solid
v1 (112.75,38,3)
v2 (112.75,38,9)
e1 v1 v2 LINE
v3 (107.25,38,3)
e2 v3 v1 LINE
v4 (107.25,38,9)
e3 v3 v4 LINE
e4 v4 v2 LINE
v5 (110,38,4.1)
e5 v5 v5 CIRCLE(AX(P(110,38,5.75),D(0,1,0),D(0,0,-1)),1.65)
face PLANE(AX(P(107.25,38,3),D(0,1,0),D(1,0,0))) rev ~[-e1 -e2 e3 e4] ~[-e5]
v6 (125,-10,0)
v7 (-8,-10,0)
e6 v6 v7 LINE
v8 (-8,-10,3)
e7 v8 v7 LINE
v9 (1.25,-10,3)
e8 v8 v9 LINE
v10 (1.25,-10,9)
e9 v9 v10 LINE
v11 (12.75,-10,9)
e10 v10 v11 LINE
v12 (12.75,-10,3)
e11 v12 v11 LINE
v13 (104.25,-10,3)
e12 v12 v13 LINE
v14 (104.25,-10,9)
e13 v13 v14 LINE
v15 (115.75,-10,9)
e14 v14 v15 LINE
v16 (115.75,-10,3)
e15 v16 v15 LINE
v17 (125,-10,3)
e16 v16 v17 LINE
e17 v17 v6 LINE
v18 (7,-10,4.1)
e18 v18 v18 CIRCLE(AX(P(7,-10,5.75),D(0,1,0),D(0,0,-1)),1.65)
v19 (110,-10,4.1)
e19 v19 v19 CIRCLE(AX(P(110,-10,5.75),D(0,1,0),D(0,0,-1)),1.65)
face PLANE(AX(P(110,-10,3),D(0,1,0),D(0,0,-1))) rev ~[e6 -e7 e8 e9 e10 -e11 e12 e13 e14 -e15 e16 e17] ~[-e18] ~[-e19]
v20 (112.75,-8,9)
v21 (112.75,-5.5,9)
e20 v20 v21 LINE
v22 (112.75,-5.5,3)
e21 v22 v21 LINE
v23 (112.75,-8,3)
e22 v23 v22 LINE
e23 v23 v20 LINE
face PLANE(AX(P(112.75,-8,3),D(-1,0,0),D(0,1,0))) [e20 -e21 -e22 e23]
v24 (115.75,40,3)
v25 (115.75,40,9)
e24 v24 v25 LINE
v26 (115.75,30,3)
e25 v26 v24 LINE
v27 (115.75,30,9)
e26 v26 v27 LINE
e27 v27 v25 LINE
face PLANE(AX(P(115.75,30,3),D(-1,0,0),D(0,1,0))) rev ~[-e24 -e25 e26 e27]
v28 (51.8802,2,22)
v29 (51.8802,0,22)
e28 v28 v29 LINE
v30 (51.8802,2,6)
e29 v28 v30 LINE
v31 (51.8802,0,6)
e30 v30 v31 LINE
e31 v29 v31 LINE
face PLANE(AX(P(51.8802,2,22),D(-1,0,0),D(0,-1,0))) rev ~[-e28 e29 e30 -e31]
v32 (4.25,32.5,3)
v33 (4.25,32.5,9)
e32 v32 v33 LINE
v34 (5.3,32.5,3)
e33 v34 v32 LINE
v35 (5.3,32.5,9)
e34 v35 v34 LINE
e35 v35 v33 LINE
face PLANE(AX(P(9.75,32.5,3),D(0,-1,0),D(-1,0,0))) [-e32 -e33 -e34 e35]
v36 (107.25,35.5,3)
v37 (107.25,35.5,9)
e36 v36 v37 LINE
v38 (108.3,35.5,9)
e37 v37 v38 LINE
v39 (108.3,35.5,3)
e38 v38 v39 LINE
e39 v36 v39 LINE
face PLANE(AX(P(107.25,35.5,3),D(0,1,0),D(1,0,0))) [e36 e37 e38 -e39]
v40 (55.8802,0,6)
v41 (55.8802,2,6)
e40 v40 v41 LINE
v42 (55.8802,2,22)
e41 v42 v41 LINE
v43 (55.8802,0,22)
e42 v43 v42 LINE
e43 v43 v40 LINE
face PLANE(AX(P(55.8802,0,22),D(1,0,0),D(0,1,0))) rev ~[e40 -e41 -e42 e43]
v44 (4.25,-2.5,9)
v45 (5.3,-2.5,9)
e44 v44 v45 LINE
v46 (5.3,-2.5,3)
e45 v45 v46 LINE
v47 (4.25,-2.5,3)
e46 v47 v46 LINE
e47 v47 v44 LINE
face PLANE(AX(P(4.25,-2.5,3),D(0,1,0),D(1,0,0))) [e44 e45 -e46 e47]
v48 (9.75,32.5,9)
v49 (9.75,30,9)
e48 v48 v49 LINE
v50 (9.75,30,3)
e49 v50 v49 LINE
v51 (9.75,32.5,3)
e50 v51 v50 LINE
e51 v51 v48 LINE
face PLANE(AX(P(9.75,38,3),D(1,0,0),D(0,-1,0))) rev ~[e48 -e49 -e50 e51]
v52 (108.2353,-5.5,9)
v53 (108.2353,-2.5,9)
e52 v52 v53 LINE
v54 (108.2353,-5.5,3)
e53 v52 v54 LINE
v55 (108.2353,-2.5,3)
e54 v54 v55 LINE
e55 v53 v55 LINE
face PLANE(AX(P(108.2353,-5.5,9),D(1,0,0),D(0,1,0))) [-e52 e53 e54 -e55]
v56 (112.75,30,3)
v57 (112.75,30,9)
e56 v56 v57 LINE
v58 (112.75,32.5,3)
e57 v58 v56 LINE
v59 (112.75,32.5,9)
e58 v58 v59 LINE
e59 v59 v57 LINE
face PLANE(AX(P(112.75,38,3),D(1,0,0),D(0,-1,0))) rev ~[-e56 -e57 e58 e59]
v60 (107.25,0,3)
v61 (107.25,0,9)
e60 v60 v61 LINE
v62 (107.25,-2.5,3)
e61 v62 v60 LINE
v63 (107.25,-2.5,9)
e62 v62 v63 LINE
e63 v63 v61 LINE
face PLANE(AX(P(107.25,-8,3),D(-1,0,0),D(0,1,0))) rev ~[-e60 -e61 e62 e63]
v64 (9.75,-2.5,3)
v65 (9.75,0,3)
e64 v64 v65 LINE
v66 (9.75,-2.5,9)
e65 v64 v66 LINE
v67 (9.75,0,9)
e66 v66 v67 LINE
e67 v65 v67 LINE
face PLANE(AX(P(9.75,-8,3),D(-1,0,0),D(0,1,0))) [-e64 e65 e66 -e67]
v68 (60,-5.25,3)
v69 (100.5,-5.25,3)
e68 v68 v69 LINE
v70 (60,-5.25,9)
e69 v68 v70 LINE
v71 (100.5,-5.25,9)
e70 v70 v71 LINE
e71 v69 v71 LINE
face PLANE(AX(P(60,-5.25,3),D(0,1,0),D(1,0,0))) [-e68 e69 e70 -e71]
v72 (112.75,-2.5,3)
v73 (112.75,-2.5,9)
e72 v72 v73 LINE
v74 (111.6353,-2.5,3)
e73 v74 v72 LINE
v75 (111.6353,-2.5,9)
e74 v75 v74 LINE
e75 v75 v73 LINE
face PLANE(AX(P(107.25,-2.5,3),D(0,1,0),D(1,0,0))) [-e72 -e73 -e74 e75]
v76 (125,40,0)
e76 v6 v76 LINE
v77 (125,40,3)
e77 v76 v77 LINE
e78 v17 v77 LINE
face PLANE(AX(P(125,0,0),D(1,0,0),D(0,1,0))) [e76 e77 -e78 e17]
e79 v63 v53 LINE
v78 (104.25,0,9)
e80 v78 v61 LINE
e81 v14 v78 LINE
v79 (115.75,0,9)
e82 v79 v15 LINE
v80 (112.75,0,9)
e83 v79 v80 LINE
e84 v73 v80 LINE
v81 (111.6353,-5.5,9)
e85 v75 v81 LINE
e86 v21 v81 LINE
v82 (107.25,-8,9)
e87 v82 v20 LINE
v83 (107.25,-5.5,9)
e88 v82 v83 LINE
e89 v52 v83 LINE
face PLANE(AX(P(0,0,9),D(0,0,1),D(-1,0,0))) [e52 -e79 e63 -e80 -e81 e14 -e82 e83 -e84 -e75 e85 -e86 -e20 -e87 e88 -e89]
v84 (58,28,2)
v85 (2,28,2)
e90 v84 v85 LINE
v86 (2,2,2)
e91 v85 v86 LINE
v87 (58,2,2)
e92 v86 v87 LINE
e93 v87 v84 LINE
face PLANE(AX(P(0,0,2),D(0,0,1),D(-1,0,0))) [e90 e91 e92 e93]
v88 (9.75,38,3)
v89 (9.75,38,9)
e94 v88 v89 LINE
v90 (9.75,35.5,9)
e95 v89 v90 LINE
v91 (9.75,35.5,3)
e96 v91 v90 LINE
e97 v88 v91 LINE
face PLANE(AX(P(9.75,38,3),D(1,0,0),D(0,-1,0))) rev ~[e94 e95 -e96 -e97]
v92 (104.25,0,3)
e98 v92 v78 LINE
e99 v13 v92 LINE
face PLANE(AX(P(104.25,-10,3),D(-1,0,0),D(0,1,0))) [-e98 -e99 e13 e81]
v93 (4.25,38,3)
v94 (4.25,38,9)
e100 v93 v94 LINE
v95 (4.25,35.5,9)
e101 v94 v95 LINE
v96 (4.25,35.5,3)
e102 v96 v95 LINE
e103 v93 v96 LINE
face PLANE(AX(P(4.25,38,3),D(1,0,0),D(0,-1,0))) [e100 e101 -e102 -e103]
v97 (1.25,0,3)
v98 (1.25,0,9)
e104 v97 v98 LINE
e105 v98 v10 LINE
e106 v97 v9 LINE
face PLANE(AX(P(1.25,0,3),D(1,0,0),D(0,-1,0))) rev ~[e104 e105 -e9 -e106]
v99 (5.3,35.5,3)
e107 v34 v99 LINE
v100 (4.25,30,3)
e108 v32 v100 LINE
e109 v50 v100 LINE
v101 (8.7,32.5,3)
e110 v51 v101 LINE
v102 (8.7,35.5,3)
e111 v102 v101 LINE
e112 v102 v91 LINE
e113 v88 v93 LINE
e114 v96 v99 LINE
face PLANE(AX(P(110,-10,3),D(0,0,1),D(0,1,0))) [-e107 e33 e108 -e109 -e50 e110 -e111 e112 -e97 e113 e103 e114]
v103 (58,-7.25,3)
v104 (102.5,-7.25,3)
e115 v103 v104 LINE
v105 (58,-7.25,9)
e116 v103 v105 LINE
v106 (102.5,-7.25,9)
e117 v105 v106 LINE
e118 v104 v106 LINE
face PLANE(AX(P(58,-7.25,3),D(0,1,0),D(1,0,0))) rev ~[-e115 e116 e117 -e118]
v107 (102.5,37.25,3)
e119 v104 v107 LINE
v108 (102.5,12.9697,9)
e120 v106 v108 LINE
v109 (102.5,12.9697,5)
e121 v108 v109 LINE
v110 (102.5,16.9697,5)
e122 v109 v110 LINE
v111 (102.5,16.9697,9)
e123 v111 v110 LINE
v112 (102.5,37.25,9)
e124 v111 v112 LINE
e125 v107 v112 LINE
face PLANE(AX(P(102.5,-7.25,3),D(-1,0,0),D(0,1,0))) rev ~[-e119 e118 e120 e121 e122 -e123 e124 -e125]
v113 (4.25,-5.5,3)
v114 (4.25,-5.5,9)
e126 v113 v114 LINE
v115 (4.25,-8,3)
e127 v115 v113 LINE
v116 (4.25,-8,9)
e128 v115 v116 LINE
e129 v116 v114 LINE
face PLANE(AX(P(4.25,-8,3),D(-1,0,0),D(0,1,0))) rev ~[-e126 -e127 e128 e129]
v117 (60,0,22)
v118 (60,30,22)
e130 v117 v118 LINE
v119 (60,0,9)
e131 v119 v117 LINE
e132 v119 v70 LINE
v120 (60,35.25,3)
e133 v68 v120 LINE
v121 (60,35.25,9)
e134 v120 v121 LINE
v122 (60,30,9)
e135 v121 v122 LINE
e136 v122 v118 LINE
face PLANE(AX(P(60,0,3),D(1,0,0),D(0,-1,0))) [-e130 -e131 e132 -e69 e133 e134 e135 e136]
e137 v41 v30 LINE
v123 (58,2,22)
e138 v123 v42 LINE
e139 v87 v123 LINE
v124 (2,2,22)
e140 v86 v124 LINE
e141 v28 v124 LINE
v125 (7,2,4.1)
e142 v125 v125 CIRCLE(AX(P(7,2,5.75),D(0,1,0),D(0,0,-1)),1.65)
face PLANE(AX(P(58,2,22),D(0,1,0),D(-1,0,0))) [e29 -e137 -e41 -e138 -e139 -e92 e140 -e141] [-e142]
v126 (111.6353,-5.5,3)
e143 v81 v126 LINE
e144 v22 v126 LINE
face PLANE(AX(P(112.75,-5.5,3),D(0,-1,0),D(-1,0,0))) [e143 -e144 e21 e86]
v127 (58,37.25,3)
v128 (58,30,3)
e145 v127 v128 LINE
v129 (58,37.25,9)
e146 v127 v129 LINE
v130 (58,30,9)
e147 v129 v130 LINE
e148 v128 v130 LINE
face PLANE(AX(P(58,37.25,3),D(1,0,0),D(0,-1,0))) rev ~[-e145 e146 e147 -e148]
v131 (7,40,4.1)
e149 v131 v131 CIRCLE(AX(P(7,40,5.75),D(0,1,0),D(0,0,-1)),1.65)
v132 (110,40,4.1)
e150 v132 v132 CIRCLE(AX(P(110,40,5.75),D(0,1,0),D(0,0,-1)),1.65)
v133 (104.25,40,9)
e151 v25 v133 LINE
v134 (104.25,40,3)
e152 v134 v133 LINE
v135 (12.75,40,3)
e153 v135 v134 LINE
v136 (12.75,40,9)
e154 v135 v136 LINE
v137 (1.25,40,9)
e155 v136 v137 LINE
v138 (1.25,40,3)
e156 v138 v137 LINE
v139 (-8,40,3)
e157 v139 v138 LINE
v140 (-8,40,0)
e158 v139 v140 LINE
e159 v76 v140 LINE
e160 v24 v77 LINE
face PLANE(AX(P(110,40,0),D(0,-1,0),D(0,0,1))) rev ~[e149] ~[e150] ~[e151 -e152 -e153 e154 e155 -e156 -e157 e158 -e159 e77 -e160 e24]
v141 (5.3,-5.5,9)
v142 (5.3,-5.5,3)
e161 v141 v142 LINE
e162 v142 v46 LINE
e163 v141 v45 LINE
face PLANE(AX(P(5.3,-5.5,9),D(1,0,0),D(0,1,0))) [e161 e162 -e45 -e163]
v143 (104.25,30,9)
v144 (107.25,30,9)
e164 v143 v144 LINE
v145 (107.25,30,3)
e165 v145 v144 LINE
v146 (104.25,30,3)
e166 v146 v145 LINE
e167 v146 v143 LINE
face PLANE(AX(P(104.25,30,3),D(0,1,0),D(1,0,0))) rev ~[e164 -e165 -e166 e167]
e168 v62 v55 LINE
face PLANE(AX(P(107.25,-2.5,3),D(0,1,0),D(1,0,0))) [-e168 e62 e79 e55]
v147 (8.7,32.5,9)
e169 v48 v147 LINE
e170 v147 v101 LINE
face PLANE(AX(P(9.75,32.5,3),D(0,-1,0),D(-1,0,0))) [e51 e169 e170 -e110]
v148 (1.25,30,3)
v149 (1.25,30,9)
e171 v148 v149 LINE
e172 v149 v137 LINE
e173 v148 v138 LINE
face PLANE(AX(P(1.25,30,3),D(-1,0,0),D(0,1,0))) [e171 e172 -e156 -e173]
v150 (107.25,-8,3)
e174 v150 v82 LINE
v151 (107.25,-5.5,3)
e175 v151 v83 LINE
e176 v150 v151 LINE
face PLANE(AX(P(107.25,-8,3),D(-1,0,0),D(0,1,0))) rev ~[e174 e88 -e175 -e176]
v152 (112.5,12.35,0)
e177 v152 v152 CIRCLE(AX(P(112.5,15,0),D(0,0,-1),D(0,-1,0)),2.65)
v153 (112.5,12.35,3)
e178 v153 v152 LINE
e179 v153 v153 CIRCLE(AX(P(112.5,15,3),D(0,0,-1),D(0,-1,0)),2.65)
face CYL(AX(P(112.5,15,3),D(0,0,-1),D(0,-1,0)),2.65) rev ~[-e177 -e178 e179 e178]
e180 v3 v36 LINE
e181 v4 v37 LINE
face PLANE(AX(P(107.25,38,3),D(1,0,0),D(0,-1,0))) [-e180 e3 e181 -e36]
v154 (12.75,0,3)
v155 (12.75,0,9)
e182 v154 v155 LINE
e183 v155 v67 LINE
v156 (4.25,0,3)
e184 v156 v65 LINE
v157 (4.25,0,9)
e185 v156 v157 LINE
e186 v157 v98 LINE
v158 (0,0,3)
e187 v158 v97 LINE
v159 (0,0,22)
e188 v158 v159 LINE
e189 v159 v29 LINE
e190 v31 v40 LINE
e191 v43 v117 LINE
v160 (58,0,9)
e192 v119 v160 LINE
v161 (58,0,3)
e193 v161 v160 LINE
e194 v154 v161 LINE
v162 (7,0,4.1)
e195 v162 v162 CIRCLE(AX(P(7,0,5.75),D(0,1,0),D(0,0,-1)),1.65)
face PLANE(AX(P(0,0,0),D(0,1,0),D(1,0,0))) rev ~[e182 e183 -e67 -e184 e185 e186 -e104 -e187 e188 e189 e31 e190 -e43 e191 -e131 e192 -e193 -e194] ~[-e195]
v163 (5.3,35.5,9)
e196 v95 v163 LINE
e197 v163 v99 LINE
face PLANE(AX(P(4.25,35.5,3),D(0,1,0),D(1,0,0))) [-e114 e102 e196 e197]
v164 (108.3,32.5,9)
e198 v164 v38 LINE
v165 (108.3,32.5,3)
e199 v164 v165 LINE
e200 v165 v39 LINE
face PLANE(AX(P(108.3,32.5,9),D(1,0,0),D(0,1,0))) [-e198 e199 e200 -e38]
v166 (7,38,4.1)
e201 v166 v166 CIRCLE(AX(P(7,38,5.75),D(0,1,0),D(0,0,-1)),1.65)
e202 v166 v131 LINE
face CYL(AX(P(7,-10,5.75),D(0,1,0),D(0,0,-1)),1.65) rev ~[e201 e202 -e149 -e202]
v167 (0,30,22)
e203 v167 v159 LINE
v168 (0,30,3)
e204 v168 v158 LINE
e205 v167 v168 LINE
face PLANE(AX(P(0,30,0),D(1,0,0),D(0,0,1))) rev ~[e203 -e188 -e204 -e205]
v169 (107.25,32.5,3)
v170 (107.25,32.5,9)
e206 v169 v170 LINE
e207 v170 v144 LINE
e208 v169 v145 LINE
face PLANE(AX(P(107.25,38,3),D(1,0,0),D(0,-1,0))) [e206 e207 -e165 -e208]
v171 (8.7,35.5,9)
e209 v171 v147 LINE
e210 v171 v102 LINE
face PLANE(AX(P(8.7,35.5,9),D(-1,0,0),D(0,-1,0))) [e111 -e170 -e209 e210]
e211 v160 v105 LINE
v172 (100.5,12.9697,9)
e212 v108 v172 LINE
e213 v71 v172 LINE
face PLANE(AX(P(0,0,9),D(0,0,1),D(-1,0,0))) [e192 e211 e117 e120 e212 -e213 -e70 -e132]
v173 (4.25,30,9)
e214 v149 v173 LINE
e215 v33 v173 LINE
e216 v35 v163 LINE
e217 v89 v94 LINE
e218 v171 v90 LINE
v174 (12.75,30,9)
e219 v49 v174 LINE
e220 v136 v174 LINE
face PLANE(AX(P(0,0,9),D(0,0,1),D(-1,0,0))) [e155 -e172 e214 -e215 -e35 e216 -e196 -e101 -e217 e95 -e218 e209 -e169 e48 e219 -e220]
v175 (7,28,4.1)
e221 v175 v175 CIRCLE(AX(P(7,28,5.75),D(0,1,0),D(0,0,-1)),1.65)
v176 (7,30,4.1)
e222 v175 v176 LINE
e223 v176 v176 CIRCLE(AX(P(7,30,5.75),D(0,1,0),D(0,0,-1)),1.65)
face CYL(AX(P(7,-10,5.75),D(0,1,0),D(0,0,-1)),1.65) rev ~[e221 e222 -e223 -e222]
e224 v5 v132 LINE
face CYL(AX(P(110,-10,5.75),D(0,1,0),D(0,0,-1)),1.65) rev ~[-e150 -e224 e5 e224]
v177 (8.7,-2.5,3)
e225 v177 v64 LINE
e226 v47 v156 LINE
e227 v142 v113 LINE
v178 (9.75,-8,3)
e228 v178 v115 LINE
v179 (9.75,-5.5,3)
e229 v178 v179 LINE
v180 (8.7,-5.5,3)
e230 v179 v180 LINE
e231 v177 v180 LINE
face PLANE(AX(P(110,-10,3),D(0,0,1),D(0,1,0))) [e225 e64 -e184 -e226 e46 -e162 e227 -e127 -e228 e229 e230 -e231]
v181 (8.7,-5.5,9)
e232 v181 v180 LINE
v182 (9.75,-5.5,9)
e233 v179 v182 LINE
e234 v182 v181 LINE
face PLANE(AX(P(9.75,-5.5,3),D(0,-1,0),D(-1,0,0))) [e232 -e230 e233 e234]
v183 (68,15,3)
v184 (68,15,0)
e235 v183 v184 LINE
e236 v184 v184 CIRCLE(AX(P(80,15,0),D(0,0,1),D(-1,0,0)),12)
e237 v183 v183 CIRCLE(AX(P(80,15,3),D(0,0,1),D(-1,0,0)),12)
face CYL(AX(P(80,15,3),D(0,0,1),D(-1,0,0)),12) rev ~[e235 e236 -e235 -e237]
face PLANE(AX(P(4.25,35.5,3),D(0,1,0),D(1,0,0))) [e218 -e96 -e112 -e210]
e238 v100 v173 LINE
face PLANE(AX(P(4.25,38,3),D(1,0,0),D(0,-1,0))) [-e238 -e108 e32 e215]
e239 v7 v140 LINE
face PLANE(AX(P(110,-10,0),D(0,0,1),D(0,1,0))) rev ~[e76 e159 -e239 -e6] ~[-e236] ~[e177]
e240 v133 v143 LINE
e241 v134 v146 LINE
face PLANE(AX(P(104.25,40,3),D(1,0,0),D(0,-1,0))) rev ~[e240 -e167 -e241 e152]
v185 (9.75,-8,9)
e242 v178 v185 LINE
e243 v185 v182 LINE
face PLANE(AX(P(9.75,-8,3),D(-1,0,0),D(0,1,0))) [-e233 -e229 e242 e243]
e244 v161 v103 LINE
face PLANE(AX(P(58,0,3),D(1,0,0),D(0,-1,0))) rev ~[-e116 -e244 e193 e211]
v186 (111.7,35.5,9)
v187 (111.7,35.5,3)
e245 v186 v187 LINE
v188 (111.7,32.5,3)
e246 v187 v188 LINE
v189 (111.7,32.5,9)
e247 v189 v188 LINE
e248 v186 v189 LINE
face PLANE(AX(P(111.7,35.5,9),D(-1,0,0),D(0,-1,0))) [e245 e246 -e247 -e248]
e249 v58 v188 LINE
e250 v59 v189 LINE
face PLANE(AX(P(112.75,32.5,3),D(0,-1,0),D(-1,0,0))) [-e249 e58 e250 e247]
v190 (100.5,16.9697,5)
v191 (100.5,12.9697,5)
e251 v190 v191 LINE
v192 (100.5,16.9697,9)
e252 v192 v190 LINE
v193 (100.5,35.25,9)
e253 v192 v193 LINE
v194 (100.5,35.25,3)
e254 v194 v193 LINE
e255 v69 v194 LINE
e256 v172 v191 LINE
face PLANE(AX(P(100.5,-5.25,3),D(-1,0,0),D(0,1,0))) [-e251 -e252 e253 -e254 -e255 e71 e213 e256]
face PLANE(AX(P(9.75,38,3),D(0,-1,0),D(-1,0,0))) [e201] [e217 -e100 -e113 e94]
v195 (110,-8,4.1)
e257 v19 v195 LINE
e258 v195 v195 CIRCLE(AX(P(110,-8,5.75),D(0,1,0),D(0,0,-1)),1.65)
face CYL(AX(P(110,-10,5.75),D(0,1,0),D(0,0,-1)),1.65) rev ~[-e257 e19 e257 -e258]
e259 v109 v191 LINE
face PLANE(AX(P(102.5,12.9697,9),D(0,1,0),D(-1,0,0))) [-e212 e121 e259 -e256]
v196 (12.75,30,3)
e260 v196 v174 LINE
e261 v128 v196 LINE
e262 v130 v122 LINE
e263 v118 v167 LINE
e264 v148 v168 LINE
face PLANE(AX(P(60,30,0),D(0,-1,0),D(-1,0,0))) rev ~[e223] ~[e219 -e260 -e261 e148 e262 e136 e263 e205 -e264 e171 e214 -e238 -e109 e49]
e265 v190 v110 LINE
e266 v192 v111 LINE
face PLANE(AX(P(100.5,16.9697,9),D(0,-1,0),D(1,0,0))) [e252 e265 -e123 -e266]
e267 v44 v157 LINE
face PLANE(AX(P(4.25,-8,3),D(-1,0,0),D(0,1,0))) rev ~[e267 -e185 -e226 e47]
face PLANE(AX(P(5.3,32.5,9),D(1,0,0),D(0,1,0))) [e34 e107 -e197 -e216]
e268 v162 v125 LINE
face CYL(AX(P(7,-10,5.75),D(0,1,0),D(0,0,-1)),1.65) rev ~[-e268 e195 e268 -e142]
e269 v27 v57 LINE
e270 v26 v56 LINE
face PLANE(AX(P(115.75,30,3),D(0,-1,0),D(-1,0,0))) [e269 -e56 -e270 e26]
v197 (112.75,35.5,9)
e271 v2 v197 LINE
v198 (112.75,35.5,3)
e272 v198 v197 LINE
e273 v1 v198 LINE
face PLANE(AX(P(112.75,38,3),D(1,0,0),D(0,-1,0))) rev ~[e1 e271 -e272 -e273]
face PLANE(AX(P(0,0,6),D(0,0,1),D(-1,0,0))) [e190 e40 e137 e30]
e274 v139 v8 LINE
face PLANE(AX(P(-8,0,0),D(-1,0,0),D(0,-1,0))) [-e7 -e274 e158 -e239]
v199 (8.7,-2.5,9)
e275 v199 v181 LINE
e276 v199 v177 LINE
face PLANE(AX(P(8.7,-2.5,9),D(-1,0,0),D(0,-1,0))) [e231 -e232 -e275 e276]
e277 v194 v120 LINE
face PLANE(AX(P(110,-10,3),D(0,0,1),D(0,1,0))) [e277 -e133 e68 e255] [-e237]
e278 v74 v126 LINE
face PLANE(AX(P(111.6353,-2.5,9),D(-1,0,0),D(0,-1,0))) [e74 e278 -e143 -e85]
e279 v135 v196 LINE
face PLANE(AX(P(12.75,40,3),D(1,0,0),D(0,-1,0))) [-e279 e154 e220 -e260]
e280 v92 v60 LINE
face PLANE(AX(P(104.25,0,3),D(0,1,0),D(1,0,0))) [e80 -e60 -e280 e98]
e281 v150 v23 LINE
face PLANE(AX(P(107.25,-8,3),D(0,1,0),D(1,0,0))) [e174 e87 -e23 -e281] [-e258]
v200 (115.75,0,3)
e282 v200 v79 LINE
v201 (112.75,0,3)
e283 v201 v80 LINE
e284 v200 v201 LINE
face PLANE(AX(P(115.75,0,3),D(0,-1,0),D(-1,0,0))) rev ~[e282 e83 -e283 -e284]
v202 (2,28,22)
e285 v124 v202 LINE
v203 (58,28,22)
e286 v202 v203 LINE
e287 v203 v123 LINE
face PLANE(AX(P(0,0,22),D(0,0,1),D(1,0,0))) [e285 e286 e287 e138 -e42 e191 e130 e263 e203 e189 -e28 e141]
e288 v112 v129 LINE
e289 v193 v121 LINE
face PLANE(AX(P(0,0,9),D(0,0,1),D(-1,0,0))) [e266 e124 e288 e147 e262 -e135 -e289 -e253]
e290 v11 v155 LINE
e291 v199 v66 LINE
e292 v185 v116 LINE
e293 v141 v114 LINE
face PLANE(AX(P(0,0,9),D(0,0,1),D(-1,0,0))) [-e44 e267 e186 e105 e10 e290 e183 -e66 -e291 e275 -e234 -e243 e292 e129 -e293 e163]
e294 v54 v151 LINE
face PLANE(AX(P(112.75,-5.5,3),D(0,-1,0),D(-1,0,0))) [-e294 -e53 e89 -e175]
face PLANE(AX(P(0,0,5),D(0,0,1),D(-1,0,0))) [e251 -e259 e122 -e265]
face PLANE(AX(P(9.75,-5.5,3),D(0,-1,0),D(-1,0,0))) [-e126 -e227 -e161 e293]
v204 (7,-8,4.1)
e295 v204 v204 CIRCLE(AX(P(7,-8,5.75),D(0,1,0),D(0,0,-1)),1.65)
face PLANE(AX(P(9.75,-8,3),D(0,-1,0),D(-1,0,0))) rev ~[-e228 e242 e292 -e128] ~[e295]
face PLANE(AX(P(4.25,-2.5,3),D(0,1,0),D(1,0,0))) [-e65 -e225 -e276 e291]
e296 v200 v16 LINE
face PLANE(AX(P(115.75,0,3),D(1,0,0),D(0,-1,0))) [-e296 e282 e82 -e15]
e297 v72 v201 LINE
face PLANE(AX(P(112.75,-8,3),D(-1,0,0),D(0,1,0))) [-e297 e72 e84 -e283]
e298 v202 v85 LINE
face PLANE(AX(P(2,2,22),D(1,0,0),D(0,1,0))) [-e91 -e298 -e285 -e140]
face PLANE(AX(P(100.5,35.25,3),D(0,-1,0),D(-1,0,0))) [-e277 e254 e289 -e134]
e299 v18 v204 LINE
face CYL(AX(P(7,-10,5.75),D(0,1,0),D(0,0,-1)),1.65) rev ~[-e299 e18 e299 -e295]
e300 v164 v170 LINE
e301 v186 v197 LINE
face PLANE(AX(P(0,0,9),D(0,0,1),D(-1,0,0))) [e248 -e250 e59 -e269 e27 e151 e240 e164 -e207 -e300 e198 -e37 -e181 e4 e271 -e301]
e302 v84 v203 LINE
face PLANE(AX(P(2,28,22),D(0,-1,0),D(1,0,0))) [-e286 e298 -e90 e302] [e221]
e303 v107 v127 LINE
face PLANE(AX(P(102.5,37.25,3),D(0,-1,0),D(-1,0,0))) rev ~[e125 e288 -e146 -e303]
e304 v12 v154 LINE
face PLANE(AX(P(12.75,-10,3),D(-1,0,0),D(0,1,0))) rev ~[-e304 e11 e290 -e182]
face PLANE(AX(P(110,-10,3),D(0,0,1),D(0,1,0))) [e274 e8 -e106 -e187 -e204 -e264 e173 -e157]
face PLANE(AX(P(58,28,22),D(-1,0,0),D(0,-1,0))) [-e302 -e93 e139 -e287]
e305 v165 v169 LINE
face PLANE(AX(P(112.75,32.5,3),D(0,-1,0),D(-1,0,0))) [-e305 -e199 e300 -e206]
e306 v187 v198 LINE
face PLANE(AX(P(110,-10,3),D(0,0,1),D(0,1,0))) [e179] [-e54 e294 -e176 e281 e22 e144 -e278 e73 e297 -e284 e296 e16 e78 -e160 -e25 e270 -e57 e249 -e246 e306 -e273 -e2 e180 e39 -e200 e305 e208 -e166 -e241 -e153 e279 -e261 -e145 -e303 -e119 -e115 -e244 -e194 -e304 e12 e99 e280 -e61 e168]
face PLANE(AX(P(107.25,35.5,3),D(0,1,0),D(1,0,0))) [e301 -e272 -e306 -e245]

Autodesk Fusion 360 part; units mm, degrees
sketch "Sketch1" plane through (0, 0, 0) normal (0, 0, 1) x (1, 0, 0)
  line L0 (0, 0) -> (60, 0)
  line L1 (60, 0) -> (60, 30)
  line L2 (60, 30) -> (0, 30)
  line L3 (0, 30) -> (0, 0)
  dimension "d1" = 60
  dimension "d2" = 30
extrude "Extrude1" add sketch "Sketch1" along normal blind 22
sketch "Sketch2" plane through (0, 0, 22) normal (0, 0, 1) x (-1, 0, 0)
  line L0 (0, -30) -> (0, 0)
  line L1 (0, 0) -> (-60, 0)
  line L2 (-60, 0) -> (-60, -30)
  line L3 (-60, -30) -> (0, -30)
  line L4 (-2, -28) -> (-58, -28)
  line L5 (-58, -28) -> (-58, -2)
  line L6 (-58, -2) -> (-2, -2)
  line L7 (-2, -2) -> (-2, -28)
  dimension "d5" = 56
  dimension "d6" = 26
  dimension "d7" = 2
  dimension "d8" = 2
extrude "Extrude2" cut sketch "Sketch2" against normal blind 20 contours L4 L5 L6 L7
sketch "Sketch3" plane through (0, 0, 0) normal (0, -1, 0) x (1, 0, 0)
  line L0 (0, 0) -> (60, 0)
  line L1 (60, 0) -> (60, 22)
  line L2 (60, 22) -> (0, 22)
  line L3 (0, 22) -> (0, 0)
  line L4 (0, 0) -> (60, 0)
  line L5 (60, 0) -> (60, 3)
  line L6 (60, 3) -> (0, 3)
  line L7 (0, 3) -> (0, 0)
  dimension "d11" = 60
  dimension "d12" = 3
extrude "Extrude3" add sketch "Sketch3" along normal blind 8 contours L0 L1 L3 L4 L5 L6 L7
sketch "Sketch4" plane through (0, 30, 0) normal (0, 1, 0) x (-1, 0, 0)
  line L0 (-60, 0) -> (0, 0)
  line L1 (0, 0) -> (0, 22)
  line L2 (0, 22) -> (-60, 22)
  line L3 (-60, 22) -> (-60, 0)
  line L4 (-60, 0) -> (0, 0)
  line L5 (0, 0) -> (0, 3)
  line L6 (0, 3) -> (-60, 3)
  line L7 (-60, 3) -> (-60, 0)
  dimension "d15" = 3
extrude "Extrude4" add sketch "Sketch4" along normal blind 8 contours L0 L1 L3 L4 L5 L6 L7
sketch "Sketch5" plane through (60, 0, 0) normal (1, 0, 0) x (0, 1, 0)
  line L0 (-8, 0) -> (38, 0)
  line L1 (38, 0) -> (38, 3)
  line L2 (38, 3) -> (30, 3)
  line L3 (30, 3) -> (30, 22)
  line L4 (30, 22) -> (0, 22)
  line L5 (0, 22) -> (0, 3)
  line L6 (0, 3) -> (-8, 3)
  line L7 (-8, 3) -> (-8, 0)
  line L8 (-8, 3) -> (38, 3)
  line L9 (38, 3) -> (38, 0)
  line L10 (38, 0) -> (-8, 0)
  line L11 (-8, 0) -> (-8, 3)
extrude "Extrude5" add sketch "Sketch5" along normal blind 50 contours L0 L1 L2 L6 L7 L8 L9 L10 L11
sketch "Sketch6" plane through (0, 0, 0) normal (-1, 0, 0) x (0, -1, 0)
  line L0 (-38, 0) -> (8, 0)
  line L1 (8, 0) -> (8, 3)
  line L2 (8, 3) -> (0, 3)
  line L3 (0, 3) -> (0, 22)
  line L4 (0, 22) -> (-30, 22)
  line L5 (-30, 22) -> (-30, 3)
  line L6 (-30, 3) -> (-38, 3)
  line L7 (-38, 3) -> (-38, 0)
  line L8 (-38, 3) -> (8, 3)
  line L9 (8, 3) -> (8, 0)
  line L10 (8, 0) -> (-38, 0)
  line L11 (-38, 0) -> (-38, 3)
extrude "Extrude6" add sketch "Sketch6" along normal blind 8 contours L0 L1 L2 L6 L7 L8 L9 L10 L11
sketch "Sketch7" plane through (0, 0, 3) normal (0, 0, 1) x (-1, 0, 0)
  line L0 (8, 8) -> (-110, 8)
  line L1 (-110, 8) -> (-110, -38)
  line L2 (-110, -38) -> (8, -38)
  line L3 (8, -38) -> (8, 8)
  line L4 (0, 0) -> (0, -30)
  line L5 (0, -30) -> (-60, -30)
  line L6 (-60, -30) -> (-60, 0)
  line L7 (-60, 0) -> (0, 0)
  line L8 (-60.1, -35.15) -> (-100.4, -35.15) construction
  line L9 (-100.4, -35.15) -> (-100.4, 5.15) construction
  line L10 (-100.4, 5.15) -> (-60.1, 5.15) construction
  line L11 (-60.1, 5.15) -> (-60.1, -35.15) construction
  line L12 (-60, -15) -> (-127.1, -15) construction
  line L13 (-100.5, -35.25) -> (-60, -35.25)
  line L14 (-60, -35.25) -> (-60, 5.25)
  line L15 (-60, 5.25) -> (-100.5, 5.25)
  line L16 (-100.5, 5.25) -> (-100.5, -35.25)
  line L17 (-58, -37.25) -> (-58, 7.25)
  line L18 (-58, 7.25) -> (-102.5, 7.25)
  line L19 (-102.5, 7.25) -> (-102.5, -37.25)
  line L20 (-102.5, -37.25) -> (-58, -37.25)
  dimension "d22" = 40.3
  dimension "d23" = 40.3
  dimension "d24" = 20.15
  dimension "d25" = 0.1
  dimension "d31" = 40.5
  dimension "d32" = 40.5
  dimension "d33" = 68
  dimension "d34" = 20.25
  dimension "d35" = 2
move_face "OffsetFaces1" offset 2 1 faces at (70.6667, 38, 2)
extrude "Extrude7" add 1 faces at (31.3333, -8, 2) along direction (0, -1, 0) blind 2
extrude "Extrude8" add 1 faces at (110, 23.3333, 1) along direction (1, 0, 0) blind 15
extrude "Extrude9" add sketch "Sketch7" along normal blind 6 contours L5 L7 L13 L14 L15 L16 L17 L18 L19 L20
sketch "Sketch9" plane through (0, 0, 3) normal (0, 0, 1) x (-1, 0, 0)
  line L0 (-60, -35.25) -> (-60, 5.25)
  line L1 (-60, 5.25) -> (-100.5, 5.25)
  line L2 (-100.5, 5.25) -> (-100.5, -35.25)
  line L3 (-100.5, -35.25) -> (-60, -35.25)
  circle A0 centre (-80, -15) radius 12
  dimension "d38" = 24
extrude "Extrude10" cut sketch "Sketch9" against normal blind 12 contours A0
sketch "Sketch10" plane through (0, 0, 9) normal (0, 0, 1) x (-1, 0, 0)
  line L0 (-60, 0) -> (-58, 0)
  line L1 (-58, 0) -> (-58, 7.25)
  line L2 (-58, 7.25) -> (-102.5, 7.25)
  line L3 (-102.5, 7.25) -> (-102.5, -37.25)
  line L4 (-102.5, -37.25) -> (-58, -37.25)
  line L5 (-58, -37.25) -> (-58, -30)
  line L6 (-58, -30) -> (-60, -30)
  line L7 (-60, -30) -> (-60, -35.25)
  line L8 (-60, -35.25) -> (-100.5, -35.25)
  line L9 (-100.5, -35.25) -> (-100.5, 5.25)
  line L10 (-100.5, 5.25) -> (-60, 5.25)
  line L11 (-60, 5.25) -> (-60, 0)
  line L12 (-100.5, -16.9697) -> (-102.5, -16.9697)
  line L13 (-102.5, -16.9697) -> (-102.5, -12.9697)
  line L14 (-102.5, -12.9697) -> (-100.5, -12.9697)
  line L15 (-100.5, -12.9697) -> (-100.5, -16.9697)
  line L16 (-110, -14.9697) -> (-85, -14.9697) construction
  dimension "d41" = 2
  dimension "d42" = 4
  dimension "d43" = 2
extrude "Extrude11" cut sketch "Sketch10" against normal blind 4 contours L3 L9 L12 L13 L14 L15
sketch "Sketch11" plane through (0, 0, 22) normal (0, 0, 1) x (-1, 0, 0)
  line L0 (-58, -28) -> (-58, -2)
  line L1 (-58, -2) -> (-2, -2)
  line L2 (-2, -2) -> (-2, -28)
  line L3 (-2, -28) -> (-58, -28)
  line L4 (0, -30) -> (0, 0)
  line L5 (0, 0) -> (-60, 0)
  line L6 (-60, 0) -> (-60, -30)
  line L7 (-60, -30) -> (0, -30)
  line L8 (-55.8802, -2) -> (-51.8802, -2)
  line L9 (-51.8802, -2) -> (-51.8802, 0)
  line L10 (-51.8802, 0) -> (-55.8802, 0)
  line L11 (-55.8802, 0) -> (-55.8802, -2)
  dimension "d46" = 4
extrude "Extrude12" cut sketch "Sketch11" against normal blind 16 contours L1 L5 L8 L9 L10 L11
sketch "Sketch12" plane through (0, 0, 3) normal (0, 0, 1) x (-1, 0, 0)
  line L0 (-58, -30) -> (-58, -37.25)
  line L1 (-58, -37.25) -> (-102.5, -37.25)
  line L2 (-102.5, -37.25) -> (-102.5, 7.25)
  line L3 (-102.5, 7.25) -> (-58, 7.25)
  line L4 (-58, 7.25) -> (-58, 0)
  line L5 (-58, 0) -> (0, 0)
  line L6 (0, 0) -> (0, -30)
  line L7 (0, -30) -> (-58, -30)
  line L8 (-125, -40) -> (8, -40)
  line L9 (8, -40) -> (8, 10)
  line L10 (8, 10) -> (-125, 10)
  line L11 (-125, 10) -> (-125, -40)
  line L12 (-7, -44) -> (-7, 24) construction
  line L13 (-110, -45) -> (-110, 22) construction
  line L14 (-1.25, -30) -> (-1.25, -40)
  line L15 (-1.25, -40) -> (-12.75, -40)
  line L16 (-12.75, -40) -> (-12.75, -30)
  line L17 (-12.75, -30) -> (-9.75, -30)
  line L18 (-9.75, -38) -> (-4.25, -38)
  line L19 (-4.25, -38) -> (-4.25, -30)
  line L20 (-1.25, -30) -> (-4.25, -30)
  line L21 (-9.75, -38) -> (-9.75, -30)
  line L22 (-28.0187, -15) -> (31, -15) construction
  line L23 (-12.75, 0) -> (-9.75, 0)
  line L24 (-12.75, 10) -> (-12.75, 0)
  line L25 (-9.75, 8) -> (-9.75, 0)
  line L26 (-9.75, 8) -> (-4.25, 8)
  line L27 (-4.25, 8) -> (-4.25, 0)
  line L28 (-1.25, 0) -> (-4.25, 0)
  line L29 (-1.25, 0) -> (-1.25, 10)
  line L30 (-1.25, 10) -> (-12.75, 10)
  line L31 (-58.5, 15) -> (-58.5, -52) construction
  line L32 (-104.25, 10) -> (-104.25, 0)
  line L33 (-115.75, 10) -> (-104.25, 10)
  line L34 (-107.25, 8) -> (-112.75, 8)
  line L35 (-107.25, 8) -> (-107.25, 0)
  line L36 (-112.75, 8) -> (-112.75, 0)
  line L37 (-115.75, 0) -> (-115.75, 10)
  line L38 (-115.75, 0) -> (-112.75, 0)
  line L39 (-104.25, 0) -> (-107.25, 0)
  line L40 (-104.25, -30) -> (-107.25, -30)
  line L41 (-107.25, -38) -> (-107.25, -30)
  line L42 (-112.75, -38) -> (-112.75, -30)
  line L43 (-115.75, -30) -> (-112.75, -30)
  line L44 (-115.75, -30) -> (-115.75, -40)
  line L45 (-107.25, -38) -> (-112.75, -38)
  line L46 (-115.75, -40) -> (-104.25, -40)
  line L47 (-104.25, -40) -> (-104.25, -30)
  dimension "d49" = 15
  dimension "d50" = 15
  dimension "d51" = 2.75
  dimension "d52" = 2.75
  dimension "d53" = 3
  dimension "d54" = 3
  dimension "d55" = 2
  dimension "d56" = 66.5
extrude "Extrude13" add sketch "Sketch12" along normal blind 6 contours L7 L8 L14 L15 L16 L17 L18 L19 L20 L21 | L8 L40 L41 L42 L43 L44 L45 L46 L47 | L5 L10 L23 L24 L25 L26 L27 L28 L29 L30 | L10 L32 L33 L34 L35 L36 L37 L38 L39
sketch "Sketch13" plane through (0, -10, 0) normal (0, -1, 0) x (1, 0, 0)
  line L0 (-8, 0) -> (125, 0)
  line L1 (125, 0) -> (125, 3)
  line L2 (125, 3) -> (115.75, 3)
  line L3 (115.75, 3) -> (115.75, 9)
  line L4 (115.75, 9) -> (104.25, 9)
  line L5 (104.25, 9) -> (104.25, 3)
  line L6 (104.25, 3) -> (12.75, 3)
  line L7 (12.75, 3) -> (12.75, 9)
  line L8 (12.75, 9) -> (1.25, 9)
  line L9 (1.25, 9) -> (1.25, 3)
  line L10 (1.25, 3) -> (-8, 3)
  line L11 (-8, 3) -> (-8, 0)
  line L12 (104.25, 3) -> (115.75, 3) construction
  line L13 (103, 8.5) -> (117.6026, 8.5) construction
  line L14 (104.25, 8.5) -> (115.75, 3) construction
  line L15 (115.75, 8.5) -> (104.25, 3) construction
  line L16 (1.25, 3) -> (12.75, 3) construction
  line L17 (-3, 8.5) -> (20, 8.5) construction
  line L18 (1.25, 8.5) -> (12.75, 3) construction
  line L19 (12.75, 8.5) -> (1.25, 3) construction
  point P0 (110, 5.75)
  point P1 (7, 5.75)
  dimension "d59" = 5.5
  dimension "d60" = 5.5
hole "Hole1" at (7, -10, 5.75) at (110, -10, 5.75) direction (0, 1, 0) diameter 3.3 depth 100 tip angle 118
sketch "Sketch14" plane through (0, 0, 3) normal (0, 0, 1) x (-1, 0, 0)
  line L0 (-9.75, -30) -> (-9.75, -38)
  line L1 (-9.75, -38) -> (-4.25, -38)
  line L2 (-4.25, -38) -> (-4.25, -30)
  line L3 (-4.25, -30) -> (-9.75, -30)
  line L4 (-4.25, -35.5) -> (-9.75, -35.5)
  line L5 (-9.75, -35.5) -> (-9.75, -32.5)
  line L6 (-9.75, -32.5) -> (-4.25, -32.5)
  line L7 (-4.25, -32.5) -> (-4.25, -35.5)
  dimension "d64" = 3
  dimension "d65" = 2.5
extrude "Extrude14" add sketch "Sketch14" along normal blind 6 contours L0 L2 L4 L5 L6 L7
sketch "Sketch15" plane through (0, 0, 9) normal (0, 0, 1) x (-1, 0, 0)
  line L0 (-4.25, -35.5) -> (-4.25, -38)
  line L1 (-4.25, -38) -> (-9.75, -38)
  line L2 (-9.75, -38) -> (-9.75, -35.5)
  line L3 (-9.75, -35.5) -> (-4.25, -35.5)
  line L4 (-4.25, -32.5) -> (-9.75, -32.5)
  line L5 (-9.75, -32.5) -> (-9.75, -30)
  line L6 (-9.75, -30) -> (-12.75, -30)
  line L7 (-12.75, -30) -> (-12.75, -40)
  line L8 (-12.75, -40) -> (-1.25, -40)
  line L9 (-1.25, -40) -> (-1.25, -30)
  line L10 (-1.25, -30) -> (-4.25, -30)
  line L11 (-4.25, -30) -> (-4.25, -32.5)
  line L12 (-7, -25.2955) -> (-7, -46) construction
  line L13 (-5.3, -35.5) -> (-8.7, -35.5)
  line L14 (-8.7, -35.5) -> (-8.7, -32.5)
  line L15 (-8.7, -32.5) -> (-5.3, -32.5)
  line L16 (-5.3, -32.5) -> (-5.3, -35.5)
  dimension "d68" = 3.4
  dimension "d69" = 1.7
  dimension "d70" = 5.75
extrude "Extrude15" cut sketch "Sketch15" against normal blind 6 contours L3 L4 L13 L14 L15 L16
sketch "Sketch16" plane through (0, 0, 3) normal (0, 0, 1) x (-1, 0, 0)
  line L0 (-9.75, 8) -> (-9.75, 0)
  line L1 (-9.75, 0) -> (-4.25, 0)
  line L2 (-4.25, 0) -> (-4.25, 8)
  line L3 (-4.25, 8) -> (-9.75, 8)
  line L4 (-7, 2) -> (-7, 16) construction
  line L5 (-1.25, 0) -> (-1.25, 10) construction
  line L6 (-4.25, 2.5) -> (-9.75, 2.5)
  line L7 (-9.75, 2.5) -> (-9.75, 5.5)
  line L8 (-9.75, 5.5) -> (-4.25, 5.5)
  line L9 (-4.25, 5.5) -> (-4.25, 2.5)
  dimension "d73" = 5.75
  dimension "d74" = 3
  dimension "d75" = 2.5
extrude "Extrude16" add sketch "Sketch16" along normal blind 6 contours L0 L2 L6 L7 L8 L9
sketch "Sketch17" plane through (0, 0, 9) normal (0, 0, 1) x (-1, 0, 0)
  line L0 (-4.25, 2.5) -> (-4.25, 0)
  line L1 (-4.25, 0) -> (-1.25, 0)
  line L2 (-1.25, 0) -> (-1.25, 10)
  line L3 (-1.25, 10) -> (-12.75, 10)
  line L4 (-12.75, 10) -> (-12.75, 0)
  line L5 (-12.75, 0) -> (-9.75, 0)
  line L6 (-9.75, 0) -> (-9.75, 2.5)
  line L7 (-9.75, 2.5) -> (-4.25, 2.5)
  line L8 (-4.25, 5.5) -> (-9.75, 5.5)
  line L9 (-9.75, 5.5) -> (-9.75, 8)
  line L10 (-9.75, 8) -> (-4.25, 8)
  line L11 (-4.25, 8) -> (-4.25, 5.5)
  line L12 (-7, 1) -> (-7, 15) construction
  line L13 (-5.3, 2.5) -> (-8.7, 2.5)
  line L14 (-8.7, 2.5) -> (-8.7, 5.5)
  line L15 (-8.7, 5.5) -> (-5.3, 5.5)
  line L16 (-5.3, 5.5) -> (-5.3, 2.5)
  dimension "d78" = 5.75
  dimension "d79" = 3.4
  dimension "d80" = 1.7
extrude "Extrude17" cut sketch "Sketch17" against normal blind 6 contours L7 L8 L13 L14 L15 L16
sketch "Sketch18" plane through (0, 0, 3) normal (0, 0, 1) x (-1, 0, 0)
  line L0 (-12.75, -40) -> (-12.75, -30)
  line L1 (-12.75, -30) -> (-58, -30)
  line L2 (-58, -30) -> (-58, -37.25)
  line L3 (-58, -37.25) -> (-102.5, -37.25)
  line L4 (-102.5, -37.25) -> (-102.5, 7.25)
  line L5 (-102.5, 7.25) -> (-58, 7.25)
  line L6 (-58, 7.25) -> (-58, 0)
  line L7 (-58, 0) -> (-12.75, 0)
  line L8 (-12.75, 0) -> (-12.75, 10)
  line L9 (-12.75, 10) -> (-104.25, 10)
  line L10 (-104.25, 10) -> (-104.25, 0)
  line L11 (-104.25, 0) -> (-107.25, 0)
  line L12 (-107.25, 0) -> (-107.25, 8)
  line L13 (-107.25, 8) -> (-112.75, 8)
  line L14 (-112.75, 8) -> (-112.75, 0)
  line L15 (-112.75, 0) -> (-115.75, 0)
  line L16 (-115.75, 0) -> (-115.75, 10)
  line L17 (-115.75, 10) -> (-125, 10)
  line L18 (-125, 10) -> (-125, -40)
  line L19 (-125, -40) -> (-115.75, -40)
  line L20 (-115.75, -40) -> (-115.75, -30)
  line L21 (-115.75, -30) -> (-112.75, -30)
  line L22 (-112.75, -30) -> (-112.75, -38)
  line L23 (-112.75, -38) -> (-107.25, -38)
  line L24 (-107.25, -38) -> (-107.25, -30)
  line L25 (-107.25, -30) -> (-104.25, -30)
  line L26 (-104.25, -30) -> (-104.25, -40)
  line L27 (-104.25, -40) -> (-12.75, -40)
  line L28 (-107.25, -35.5) -> (-112.75, -35.5)
  line L29 (-112.75, -35.5) -> (-112.75, -32.5)
  line L30 (-112.75, -32.5) -> (-107.25, -32.5)
  line L31 (-107.25, -32.5) -> (-107.25, -35.5)
  line L32 (-107.25, 2.5) -> (-112.75, 2.5)
  line L33 (-112.75, 2.5) -> (-112.75, 5.5)
  line L34 (-112.75, 5.5) -> (-107.25, 5.5)
  line L35 (-107.25, 5.5) -> (-107.25, 2.5)
  dimension "d83" = 3
  dimension "d84" = 3
  dimension "d85" = 2.5
  dimension "d86" = 2.5
extrude "Extrude18" add sketch "Sketch18" along normal blind 6 contours L22 L24 L28 L29 L30 L31 | L12 L14 L32 L33 L34 L35
sketch "Sketch19" plane through (0, 0, 9) normal (0, 0, 1) x (-1, 0, 0)
  line L0 (-112.75, -32.5) -> (-112.75, -30)
  line L1 (-112.75, -30) -> (-115.75, -30)
  line L2 (-115.75, -30) -> (-115.75, -40)
  line L3 (-115.75, -40) -> (-104.25, -40)
  line L4 (-104.25, -40) -> (-104.25, -30)
  line L5 (-104.25, -30) -> (-107.25, -30)
  line L6 (-107.25, -30) -> (-107.25, -32.5)
  line L7 (-107.25, -32.5) -> (-112.75, -32.5)
  line L8 (-112.75, -35.5) -> (-107.25, -35.5)
  line L9 (-107.25, -35.5) -> (-107.25, -38)
  line L10 (-107.25, -38) -> (-112.75, -38)
  line L11 (-112.75, -38) -> (-112.75, -35.5)
  line L12 (-108.3, -35.5) -> (-111.7, -35.5)
  line L13 (-111.7, -35.5) -> (-111.7, -32.5)
  line L14 (-111.7, -32.5) -> (-108.3, -32.5)
  line L15 (-108.3, -32.5) -> (-108.3, -35.5)
  line L16 (-110, -40.7377) -> (-110, -29.5) construction
  dimension "d89" = 3.4
  dimension "d90" = 5.75
  dimension "d91" = 1.7
extrude "Extrude19" cut sketch "Sketch19" against normal blind 6 contours L7 L8 L12 L13 L14 L15
sketch "Sketch20" plane through (0, 0, 9) normal (0, 0, 1) x (-1, 0, 0)
  line L0 (-112.75, 5.5) -> (-112.75, 8)
  line L1 (-112.75, 8) -> (-107.25, 8)
  line L2 (-107.25, 8) -> (-107.25, 5.5)
  line L3 (-107.25, 5.5) -> (-112.75, 5.5)
  line L4 (-112.75, 2.5) -> (-107.25, 2.5)
  line L5 (-107.25, 2.5) -> (-107.25, 0)
  line L6 (-107.25, 0) -> (-104.25, 0)
  line L7 (-104.25, 0) -> (-104.25, 10)
  line L8 (-104.25, 10) -> (-115.75, 10)
  line L9 (-115.75, 10) -> (-115.75, 0)
  line L10 (-115.75, 0) -> (-112.75, 0)
  line L11 (-112.75, 0) -> (-112.75, 2.5)
  line L12 (-108.2353, 2.5) -> (-111.6353, 2.5)
  line L13 (-111.6353, 2.5) -> (-111.6353, 5.5)
  line L14 (-111.6353, 5.5) -> (-108.2353, 5.5)
  line L15 (-108.2353, 5.5) -> (-108.2353, 2.5)
  line L16 (-109.9353, -2) -> (-109.9353, 11) construction
  dimension "d94" = 3.4
  dimension "d95" = 1.7
extrude "Extrude20" cut sketch "Sketch20" against normal blind 6 contours L3 L4 L12 L13 L14 L15
sketch "Sketch21" plane through (0, 0, 3) normal (0, 0, 1) x (-1, 0, 0)
  line L0 (-107.25, -35.5) -> (-108.3, -35.5)
  line L1 (-108.3, -35.5) -> (-108.3, -32.5)
  line L2 (-108.3, -32.5) -> (-107.25, -32.5)
  line L3 (-107.25, -32.5) -> (-107.25, -30)
  line L4 (-107.25, -30) -> (-104.25, -30)
  line L5 (-104.25, -30) -> (-104.25, -40)
  line L6 (-104.25, -40) -> (-12.75, -40)
  line L7 (-12.75, -40) -> (-12.75, -30)
  line L8 (-12.75, -30) -> (-58, -30)
  line L9 (-58, -30) -> (-58, -37.25)
  line L10 (-58, -37.25) -> (-102.5, -37.25)
  line L11 (-102.5, -37.25) -> (-102.5, 7.25)
  line L12 (-102.5, 7.25) -> (-58, 7.25)
  line L13 (-58, 7.25) -> (-58, 0)
  line L14 (-58, 0) -> (-12.75, 0)
  line L15 (-12.75, 0) -> (-12.75, 10)
  line L16 (-12.75, 10) -> (-104.25, 10)
  line L17 (-104.25, 10) -> (-104.25, 0)
  line L18 (-104.25, 0) -> (-107.25, 0)
  line L19 (-107.25, 0) -> (-107.25, 2.5)
  line L20 (-107.25, 2.5) -> (-108.2353, 2.5)
  line L21 (-108.2353, 2.5) -> (-108.2353, 5.5)
  line L22 (-108.2353, 5.5) -> (-107.25, 5.5)
  line L23 (-107.25, 5.5) -> (-107.25, 8)
  line L24 (-107.25, 8) -> (-112.75, 8)
  line L25 (-112.75, 8) -> (-112.75, 5.5)
  line L26 (-112.75, 5.5) -> (-111.6353, 5.5)
  line L27 (-111.6353, 5.5) -> (-111.6353, 2.5)
  line L28 (-111.6353, 2.5) -> (-112.75, 2.5)
  line L29 (-112.75, 2.5) -> (-112.75, 0)
  line L30 (-112.75, 0) -> (-115.75, 0)
  line L31 (-115.75, 0) -> (-115.75, 10)
  line L32 (-115.75, 10) -> (-125, 10)
  line L33 (-125, 10) -> (-125, -40)
  line L34 (-125, -40) -> (-115.75, -40)
  line L35 (-115.75, -40) -> (-115.75, -30)
  line L36 (-115.75, -30) -> (-112.75, -30)
  line L37 (-112.75, -30) -> (-112.75, -32.5)
  line L38 (-112.75, -32.5) -> (-111.7, -32.5)
  line L39 (-111.7, -32.5) -> (-111.7, -35.5)
  line L40 (-111.7, -35.5) -> (-112.75, -35.5)
  line L41 (-112.75, -35.5) -> (-112.75, -38)
  line L42 (-112.75, -38) -> (-107.25, -38)
  line L43 (-107.25, -38) -> (-107.25, -35.5)
  line L44 (-102.5, -15) -> (-131, -15) construction
  point P0 (-112.5, -15)
  dimension "d98" = 10
hole "Hole2" at (112.5, 15, 3) direction (0, 0, -1) diameter 5.3 depth 100 tip angle 118
